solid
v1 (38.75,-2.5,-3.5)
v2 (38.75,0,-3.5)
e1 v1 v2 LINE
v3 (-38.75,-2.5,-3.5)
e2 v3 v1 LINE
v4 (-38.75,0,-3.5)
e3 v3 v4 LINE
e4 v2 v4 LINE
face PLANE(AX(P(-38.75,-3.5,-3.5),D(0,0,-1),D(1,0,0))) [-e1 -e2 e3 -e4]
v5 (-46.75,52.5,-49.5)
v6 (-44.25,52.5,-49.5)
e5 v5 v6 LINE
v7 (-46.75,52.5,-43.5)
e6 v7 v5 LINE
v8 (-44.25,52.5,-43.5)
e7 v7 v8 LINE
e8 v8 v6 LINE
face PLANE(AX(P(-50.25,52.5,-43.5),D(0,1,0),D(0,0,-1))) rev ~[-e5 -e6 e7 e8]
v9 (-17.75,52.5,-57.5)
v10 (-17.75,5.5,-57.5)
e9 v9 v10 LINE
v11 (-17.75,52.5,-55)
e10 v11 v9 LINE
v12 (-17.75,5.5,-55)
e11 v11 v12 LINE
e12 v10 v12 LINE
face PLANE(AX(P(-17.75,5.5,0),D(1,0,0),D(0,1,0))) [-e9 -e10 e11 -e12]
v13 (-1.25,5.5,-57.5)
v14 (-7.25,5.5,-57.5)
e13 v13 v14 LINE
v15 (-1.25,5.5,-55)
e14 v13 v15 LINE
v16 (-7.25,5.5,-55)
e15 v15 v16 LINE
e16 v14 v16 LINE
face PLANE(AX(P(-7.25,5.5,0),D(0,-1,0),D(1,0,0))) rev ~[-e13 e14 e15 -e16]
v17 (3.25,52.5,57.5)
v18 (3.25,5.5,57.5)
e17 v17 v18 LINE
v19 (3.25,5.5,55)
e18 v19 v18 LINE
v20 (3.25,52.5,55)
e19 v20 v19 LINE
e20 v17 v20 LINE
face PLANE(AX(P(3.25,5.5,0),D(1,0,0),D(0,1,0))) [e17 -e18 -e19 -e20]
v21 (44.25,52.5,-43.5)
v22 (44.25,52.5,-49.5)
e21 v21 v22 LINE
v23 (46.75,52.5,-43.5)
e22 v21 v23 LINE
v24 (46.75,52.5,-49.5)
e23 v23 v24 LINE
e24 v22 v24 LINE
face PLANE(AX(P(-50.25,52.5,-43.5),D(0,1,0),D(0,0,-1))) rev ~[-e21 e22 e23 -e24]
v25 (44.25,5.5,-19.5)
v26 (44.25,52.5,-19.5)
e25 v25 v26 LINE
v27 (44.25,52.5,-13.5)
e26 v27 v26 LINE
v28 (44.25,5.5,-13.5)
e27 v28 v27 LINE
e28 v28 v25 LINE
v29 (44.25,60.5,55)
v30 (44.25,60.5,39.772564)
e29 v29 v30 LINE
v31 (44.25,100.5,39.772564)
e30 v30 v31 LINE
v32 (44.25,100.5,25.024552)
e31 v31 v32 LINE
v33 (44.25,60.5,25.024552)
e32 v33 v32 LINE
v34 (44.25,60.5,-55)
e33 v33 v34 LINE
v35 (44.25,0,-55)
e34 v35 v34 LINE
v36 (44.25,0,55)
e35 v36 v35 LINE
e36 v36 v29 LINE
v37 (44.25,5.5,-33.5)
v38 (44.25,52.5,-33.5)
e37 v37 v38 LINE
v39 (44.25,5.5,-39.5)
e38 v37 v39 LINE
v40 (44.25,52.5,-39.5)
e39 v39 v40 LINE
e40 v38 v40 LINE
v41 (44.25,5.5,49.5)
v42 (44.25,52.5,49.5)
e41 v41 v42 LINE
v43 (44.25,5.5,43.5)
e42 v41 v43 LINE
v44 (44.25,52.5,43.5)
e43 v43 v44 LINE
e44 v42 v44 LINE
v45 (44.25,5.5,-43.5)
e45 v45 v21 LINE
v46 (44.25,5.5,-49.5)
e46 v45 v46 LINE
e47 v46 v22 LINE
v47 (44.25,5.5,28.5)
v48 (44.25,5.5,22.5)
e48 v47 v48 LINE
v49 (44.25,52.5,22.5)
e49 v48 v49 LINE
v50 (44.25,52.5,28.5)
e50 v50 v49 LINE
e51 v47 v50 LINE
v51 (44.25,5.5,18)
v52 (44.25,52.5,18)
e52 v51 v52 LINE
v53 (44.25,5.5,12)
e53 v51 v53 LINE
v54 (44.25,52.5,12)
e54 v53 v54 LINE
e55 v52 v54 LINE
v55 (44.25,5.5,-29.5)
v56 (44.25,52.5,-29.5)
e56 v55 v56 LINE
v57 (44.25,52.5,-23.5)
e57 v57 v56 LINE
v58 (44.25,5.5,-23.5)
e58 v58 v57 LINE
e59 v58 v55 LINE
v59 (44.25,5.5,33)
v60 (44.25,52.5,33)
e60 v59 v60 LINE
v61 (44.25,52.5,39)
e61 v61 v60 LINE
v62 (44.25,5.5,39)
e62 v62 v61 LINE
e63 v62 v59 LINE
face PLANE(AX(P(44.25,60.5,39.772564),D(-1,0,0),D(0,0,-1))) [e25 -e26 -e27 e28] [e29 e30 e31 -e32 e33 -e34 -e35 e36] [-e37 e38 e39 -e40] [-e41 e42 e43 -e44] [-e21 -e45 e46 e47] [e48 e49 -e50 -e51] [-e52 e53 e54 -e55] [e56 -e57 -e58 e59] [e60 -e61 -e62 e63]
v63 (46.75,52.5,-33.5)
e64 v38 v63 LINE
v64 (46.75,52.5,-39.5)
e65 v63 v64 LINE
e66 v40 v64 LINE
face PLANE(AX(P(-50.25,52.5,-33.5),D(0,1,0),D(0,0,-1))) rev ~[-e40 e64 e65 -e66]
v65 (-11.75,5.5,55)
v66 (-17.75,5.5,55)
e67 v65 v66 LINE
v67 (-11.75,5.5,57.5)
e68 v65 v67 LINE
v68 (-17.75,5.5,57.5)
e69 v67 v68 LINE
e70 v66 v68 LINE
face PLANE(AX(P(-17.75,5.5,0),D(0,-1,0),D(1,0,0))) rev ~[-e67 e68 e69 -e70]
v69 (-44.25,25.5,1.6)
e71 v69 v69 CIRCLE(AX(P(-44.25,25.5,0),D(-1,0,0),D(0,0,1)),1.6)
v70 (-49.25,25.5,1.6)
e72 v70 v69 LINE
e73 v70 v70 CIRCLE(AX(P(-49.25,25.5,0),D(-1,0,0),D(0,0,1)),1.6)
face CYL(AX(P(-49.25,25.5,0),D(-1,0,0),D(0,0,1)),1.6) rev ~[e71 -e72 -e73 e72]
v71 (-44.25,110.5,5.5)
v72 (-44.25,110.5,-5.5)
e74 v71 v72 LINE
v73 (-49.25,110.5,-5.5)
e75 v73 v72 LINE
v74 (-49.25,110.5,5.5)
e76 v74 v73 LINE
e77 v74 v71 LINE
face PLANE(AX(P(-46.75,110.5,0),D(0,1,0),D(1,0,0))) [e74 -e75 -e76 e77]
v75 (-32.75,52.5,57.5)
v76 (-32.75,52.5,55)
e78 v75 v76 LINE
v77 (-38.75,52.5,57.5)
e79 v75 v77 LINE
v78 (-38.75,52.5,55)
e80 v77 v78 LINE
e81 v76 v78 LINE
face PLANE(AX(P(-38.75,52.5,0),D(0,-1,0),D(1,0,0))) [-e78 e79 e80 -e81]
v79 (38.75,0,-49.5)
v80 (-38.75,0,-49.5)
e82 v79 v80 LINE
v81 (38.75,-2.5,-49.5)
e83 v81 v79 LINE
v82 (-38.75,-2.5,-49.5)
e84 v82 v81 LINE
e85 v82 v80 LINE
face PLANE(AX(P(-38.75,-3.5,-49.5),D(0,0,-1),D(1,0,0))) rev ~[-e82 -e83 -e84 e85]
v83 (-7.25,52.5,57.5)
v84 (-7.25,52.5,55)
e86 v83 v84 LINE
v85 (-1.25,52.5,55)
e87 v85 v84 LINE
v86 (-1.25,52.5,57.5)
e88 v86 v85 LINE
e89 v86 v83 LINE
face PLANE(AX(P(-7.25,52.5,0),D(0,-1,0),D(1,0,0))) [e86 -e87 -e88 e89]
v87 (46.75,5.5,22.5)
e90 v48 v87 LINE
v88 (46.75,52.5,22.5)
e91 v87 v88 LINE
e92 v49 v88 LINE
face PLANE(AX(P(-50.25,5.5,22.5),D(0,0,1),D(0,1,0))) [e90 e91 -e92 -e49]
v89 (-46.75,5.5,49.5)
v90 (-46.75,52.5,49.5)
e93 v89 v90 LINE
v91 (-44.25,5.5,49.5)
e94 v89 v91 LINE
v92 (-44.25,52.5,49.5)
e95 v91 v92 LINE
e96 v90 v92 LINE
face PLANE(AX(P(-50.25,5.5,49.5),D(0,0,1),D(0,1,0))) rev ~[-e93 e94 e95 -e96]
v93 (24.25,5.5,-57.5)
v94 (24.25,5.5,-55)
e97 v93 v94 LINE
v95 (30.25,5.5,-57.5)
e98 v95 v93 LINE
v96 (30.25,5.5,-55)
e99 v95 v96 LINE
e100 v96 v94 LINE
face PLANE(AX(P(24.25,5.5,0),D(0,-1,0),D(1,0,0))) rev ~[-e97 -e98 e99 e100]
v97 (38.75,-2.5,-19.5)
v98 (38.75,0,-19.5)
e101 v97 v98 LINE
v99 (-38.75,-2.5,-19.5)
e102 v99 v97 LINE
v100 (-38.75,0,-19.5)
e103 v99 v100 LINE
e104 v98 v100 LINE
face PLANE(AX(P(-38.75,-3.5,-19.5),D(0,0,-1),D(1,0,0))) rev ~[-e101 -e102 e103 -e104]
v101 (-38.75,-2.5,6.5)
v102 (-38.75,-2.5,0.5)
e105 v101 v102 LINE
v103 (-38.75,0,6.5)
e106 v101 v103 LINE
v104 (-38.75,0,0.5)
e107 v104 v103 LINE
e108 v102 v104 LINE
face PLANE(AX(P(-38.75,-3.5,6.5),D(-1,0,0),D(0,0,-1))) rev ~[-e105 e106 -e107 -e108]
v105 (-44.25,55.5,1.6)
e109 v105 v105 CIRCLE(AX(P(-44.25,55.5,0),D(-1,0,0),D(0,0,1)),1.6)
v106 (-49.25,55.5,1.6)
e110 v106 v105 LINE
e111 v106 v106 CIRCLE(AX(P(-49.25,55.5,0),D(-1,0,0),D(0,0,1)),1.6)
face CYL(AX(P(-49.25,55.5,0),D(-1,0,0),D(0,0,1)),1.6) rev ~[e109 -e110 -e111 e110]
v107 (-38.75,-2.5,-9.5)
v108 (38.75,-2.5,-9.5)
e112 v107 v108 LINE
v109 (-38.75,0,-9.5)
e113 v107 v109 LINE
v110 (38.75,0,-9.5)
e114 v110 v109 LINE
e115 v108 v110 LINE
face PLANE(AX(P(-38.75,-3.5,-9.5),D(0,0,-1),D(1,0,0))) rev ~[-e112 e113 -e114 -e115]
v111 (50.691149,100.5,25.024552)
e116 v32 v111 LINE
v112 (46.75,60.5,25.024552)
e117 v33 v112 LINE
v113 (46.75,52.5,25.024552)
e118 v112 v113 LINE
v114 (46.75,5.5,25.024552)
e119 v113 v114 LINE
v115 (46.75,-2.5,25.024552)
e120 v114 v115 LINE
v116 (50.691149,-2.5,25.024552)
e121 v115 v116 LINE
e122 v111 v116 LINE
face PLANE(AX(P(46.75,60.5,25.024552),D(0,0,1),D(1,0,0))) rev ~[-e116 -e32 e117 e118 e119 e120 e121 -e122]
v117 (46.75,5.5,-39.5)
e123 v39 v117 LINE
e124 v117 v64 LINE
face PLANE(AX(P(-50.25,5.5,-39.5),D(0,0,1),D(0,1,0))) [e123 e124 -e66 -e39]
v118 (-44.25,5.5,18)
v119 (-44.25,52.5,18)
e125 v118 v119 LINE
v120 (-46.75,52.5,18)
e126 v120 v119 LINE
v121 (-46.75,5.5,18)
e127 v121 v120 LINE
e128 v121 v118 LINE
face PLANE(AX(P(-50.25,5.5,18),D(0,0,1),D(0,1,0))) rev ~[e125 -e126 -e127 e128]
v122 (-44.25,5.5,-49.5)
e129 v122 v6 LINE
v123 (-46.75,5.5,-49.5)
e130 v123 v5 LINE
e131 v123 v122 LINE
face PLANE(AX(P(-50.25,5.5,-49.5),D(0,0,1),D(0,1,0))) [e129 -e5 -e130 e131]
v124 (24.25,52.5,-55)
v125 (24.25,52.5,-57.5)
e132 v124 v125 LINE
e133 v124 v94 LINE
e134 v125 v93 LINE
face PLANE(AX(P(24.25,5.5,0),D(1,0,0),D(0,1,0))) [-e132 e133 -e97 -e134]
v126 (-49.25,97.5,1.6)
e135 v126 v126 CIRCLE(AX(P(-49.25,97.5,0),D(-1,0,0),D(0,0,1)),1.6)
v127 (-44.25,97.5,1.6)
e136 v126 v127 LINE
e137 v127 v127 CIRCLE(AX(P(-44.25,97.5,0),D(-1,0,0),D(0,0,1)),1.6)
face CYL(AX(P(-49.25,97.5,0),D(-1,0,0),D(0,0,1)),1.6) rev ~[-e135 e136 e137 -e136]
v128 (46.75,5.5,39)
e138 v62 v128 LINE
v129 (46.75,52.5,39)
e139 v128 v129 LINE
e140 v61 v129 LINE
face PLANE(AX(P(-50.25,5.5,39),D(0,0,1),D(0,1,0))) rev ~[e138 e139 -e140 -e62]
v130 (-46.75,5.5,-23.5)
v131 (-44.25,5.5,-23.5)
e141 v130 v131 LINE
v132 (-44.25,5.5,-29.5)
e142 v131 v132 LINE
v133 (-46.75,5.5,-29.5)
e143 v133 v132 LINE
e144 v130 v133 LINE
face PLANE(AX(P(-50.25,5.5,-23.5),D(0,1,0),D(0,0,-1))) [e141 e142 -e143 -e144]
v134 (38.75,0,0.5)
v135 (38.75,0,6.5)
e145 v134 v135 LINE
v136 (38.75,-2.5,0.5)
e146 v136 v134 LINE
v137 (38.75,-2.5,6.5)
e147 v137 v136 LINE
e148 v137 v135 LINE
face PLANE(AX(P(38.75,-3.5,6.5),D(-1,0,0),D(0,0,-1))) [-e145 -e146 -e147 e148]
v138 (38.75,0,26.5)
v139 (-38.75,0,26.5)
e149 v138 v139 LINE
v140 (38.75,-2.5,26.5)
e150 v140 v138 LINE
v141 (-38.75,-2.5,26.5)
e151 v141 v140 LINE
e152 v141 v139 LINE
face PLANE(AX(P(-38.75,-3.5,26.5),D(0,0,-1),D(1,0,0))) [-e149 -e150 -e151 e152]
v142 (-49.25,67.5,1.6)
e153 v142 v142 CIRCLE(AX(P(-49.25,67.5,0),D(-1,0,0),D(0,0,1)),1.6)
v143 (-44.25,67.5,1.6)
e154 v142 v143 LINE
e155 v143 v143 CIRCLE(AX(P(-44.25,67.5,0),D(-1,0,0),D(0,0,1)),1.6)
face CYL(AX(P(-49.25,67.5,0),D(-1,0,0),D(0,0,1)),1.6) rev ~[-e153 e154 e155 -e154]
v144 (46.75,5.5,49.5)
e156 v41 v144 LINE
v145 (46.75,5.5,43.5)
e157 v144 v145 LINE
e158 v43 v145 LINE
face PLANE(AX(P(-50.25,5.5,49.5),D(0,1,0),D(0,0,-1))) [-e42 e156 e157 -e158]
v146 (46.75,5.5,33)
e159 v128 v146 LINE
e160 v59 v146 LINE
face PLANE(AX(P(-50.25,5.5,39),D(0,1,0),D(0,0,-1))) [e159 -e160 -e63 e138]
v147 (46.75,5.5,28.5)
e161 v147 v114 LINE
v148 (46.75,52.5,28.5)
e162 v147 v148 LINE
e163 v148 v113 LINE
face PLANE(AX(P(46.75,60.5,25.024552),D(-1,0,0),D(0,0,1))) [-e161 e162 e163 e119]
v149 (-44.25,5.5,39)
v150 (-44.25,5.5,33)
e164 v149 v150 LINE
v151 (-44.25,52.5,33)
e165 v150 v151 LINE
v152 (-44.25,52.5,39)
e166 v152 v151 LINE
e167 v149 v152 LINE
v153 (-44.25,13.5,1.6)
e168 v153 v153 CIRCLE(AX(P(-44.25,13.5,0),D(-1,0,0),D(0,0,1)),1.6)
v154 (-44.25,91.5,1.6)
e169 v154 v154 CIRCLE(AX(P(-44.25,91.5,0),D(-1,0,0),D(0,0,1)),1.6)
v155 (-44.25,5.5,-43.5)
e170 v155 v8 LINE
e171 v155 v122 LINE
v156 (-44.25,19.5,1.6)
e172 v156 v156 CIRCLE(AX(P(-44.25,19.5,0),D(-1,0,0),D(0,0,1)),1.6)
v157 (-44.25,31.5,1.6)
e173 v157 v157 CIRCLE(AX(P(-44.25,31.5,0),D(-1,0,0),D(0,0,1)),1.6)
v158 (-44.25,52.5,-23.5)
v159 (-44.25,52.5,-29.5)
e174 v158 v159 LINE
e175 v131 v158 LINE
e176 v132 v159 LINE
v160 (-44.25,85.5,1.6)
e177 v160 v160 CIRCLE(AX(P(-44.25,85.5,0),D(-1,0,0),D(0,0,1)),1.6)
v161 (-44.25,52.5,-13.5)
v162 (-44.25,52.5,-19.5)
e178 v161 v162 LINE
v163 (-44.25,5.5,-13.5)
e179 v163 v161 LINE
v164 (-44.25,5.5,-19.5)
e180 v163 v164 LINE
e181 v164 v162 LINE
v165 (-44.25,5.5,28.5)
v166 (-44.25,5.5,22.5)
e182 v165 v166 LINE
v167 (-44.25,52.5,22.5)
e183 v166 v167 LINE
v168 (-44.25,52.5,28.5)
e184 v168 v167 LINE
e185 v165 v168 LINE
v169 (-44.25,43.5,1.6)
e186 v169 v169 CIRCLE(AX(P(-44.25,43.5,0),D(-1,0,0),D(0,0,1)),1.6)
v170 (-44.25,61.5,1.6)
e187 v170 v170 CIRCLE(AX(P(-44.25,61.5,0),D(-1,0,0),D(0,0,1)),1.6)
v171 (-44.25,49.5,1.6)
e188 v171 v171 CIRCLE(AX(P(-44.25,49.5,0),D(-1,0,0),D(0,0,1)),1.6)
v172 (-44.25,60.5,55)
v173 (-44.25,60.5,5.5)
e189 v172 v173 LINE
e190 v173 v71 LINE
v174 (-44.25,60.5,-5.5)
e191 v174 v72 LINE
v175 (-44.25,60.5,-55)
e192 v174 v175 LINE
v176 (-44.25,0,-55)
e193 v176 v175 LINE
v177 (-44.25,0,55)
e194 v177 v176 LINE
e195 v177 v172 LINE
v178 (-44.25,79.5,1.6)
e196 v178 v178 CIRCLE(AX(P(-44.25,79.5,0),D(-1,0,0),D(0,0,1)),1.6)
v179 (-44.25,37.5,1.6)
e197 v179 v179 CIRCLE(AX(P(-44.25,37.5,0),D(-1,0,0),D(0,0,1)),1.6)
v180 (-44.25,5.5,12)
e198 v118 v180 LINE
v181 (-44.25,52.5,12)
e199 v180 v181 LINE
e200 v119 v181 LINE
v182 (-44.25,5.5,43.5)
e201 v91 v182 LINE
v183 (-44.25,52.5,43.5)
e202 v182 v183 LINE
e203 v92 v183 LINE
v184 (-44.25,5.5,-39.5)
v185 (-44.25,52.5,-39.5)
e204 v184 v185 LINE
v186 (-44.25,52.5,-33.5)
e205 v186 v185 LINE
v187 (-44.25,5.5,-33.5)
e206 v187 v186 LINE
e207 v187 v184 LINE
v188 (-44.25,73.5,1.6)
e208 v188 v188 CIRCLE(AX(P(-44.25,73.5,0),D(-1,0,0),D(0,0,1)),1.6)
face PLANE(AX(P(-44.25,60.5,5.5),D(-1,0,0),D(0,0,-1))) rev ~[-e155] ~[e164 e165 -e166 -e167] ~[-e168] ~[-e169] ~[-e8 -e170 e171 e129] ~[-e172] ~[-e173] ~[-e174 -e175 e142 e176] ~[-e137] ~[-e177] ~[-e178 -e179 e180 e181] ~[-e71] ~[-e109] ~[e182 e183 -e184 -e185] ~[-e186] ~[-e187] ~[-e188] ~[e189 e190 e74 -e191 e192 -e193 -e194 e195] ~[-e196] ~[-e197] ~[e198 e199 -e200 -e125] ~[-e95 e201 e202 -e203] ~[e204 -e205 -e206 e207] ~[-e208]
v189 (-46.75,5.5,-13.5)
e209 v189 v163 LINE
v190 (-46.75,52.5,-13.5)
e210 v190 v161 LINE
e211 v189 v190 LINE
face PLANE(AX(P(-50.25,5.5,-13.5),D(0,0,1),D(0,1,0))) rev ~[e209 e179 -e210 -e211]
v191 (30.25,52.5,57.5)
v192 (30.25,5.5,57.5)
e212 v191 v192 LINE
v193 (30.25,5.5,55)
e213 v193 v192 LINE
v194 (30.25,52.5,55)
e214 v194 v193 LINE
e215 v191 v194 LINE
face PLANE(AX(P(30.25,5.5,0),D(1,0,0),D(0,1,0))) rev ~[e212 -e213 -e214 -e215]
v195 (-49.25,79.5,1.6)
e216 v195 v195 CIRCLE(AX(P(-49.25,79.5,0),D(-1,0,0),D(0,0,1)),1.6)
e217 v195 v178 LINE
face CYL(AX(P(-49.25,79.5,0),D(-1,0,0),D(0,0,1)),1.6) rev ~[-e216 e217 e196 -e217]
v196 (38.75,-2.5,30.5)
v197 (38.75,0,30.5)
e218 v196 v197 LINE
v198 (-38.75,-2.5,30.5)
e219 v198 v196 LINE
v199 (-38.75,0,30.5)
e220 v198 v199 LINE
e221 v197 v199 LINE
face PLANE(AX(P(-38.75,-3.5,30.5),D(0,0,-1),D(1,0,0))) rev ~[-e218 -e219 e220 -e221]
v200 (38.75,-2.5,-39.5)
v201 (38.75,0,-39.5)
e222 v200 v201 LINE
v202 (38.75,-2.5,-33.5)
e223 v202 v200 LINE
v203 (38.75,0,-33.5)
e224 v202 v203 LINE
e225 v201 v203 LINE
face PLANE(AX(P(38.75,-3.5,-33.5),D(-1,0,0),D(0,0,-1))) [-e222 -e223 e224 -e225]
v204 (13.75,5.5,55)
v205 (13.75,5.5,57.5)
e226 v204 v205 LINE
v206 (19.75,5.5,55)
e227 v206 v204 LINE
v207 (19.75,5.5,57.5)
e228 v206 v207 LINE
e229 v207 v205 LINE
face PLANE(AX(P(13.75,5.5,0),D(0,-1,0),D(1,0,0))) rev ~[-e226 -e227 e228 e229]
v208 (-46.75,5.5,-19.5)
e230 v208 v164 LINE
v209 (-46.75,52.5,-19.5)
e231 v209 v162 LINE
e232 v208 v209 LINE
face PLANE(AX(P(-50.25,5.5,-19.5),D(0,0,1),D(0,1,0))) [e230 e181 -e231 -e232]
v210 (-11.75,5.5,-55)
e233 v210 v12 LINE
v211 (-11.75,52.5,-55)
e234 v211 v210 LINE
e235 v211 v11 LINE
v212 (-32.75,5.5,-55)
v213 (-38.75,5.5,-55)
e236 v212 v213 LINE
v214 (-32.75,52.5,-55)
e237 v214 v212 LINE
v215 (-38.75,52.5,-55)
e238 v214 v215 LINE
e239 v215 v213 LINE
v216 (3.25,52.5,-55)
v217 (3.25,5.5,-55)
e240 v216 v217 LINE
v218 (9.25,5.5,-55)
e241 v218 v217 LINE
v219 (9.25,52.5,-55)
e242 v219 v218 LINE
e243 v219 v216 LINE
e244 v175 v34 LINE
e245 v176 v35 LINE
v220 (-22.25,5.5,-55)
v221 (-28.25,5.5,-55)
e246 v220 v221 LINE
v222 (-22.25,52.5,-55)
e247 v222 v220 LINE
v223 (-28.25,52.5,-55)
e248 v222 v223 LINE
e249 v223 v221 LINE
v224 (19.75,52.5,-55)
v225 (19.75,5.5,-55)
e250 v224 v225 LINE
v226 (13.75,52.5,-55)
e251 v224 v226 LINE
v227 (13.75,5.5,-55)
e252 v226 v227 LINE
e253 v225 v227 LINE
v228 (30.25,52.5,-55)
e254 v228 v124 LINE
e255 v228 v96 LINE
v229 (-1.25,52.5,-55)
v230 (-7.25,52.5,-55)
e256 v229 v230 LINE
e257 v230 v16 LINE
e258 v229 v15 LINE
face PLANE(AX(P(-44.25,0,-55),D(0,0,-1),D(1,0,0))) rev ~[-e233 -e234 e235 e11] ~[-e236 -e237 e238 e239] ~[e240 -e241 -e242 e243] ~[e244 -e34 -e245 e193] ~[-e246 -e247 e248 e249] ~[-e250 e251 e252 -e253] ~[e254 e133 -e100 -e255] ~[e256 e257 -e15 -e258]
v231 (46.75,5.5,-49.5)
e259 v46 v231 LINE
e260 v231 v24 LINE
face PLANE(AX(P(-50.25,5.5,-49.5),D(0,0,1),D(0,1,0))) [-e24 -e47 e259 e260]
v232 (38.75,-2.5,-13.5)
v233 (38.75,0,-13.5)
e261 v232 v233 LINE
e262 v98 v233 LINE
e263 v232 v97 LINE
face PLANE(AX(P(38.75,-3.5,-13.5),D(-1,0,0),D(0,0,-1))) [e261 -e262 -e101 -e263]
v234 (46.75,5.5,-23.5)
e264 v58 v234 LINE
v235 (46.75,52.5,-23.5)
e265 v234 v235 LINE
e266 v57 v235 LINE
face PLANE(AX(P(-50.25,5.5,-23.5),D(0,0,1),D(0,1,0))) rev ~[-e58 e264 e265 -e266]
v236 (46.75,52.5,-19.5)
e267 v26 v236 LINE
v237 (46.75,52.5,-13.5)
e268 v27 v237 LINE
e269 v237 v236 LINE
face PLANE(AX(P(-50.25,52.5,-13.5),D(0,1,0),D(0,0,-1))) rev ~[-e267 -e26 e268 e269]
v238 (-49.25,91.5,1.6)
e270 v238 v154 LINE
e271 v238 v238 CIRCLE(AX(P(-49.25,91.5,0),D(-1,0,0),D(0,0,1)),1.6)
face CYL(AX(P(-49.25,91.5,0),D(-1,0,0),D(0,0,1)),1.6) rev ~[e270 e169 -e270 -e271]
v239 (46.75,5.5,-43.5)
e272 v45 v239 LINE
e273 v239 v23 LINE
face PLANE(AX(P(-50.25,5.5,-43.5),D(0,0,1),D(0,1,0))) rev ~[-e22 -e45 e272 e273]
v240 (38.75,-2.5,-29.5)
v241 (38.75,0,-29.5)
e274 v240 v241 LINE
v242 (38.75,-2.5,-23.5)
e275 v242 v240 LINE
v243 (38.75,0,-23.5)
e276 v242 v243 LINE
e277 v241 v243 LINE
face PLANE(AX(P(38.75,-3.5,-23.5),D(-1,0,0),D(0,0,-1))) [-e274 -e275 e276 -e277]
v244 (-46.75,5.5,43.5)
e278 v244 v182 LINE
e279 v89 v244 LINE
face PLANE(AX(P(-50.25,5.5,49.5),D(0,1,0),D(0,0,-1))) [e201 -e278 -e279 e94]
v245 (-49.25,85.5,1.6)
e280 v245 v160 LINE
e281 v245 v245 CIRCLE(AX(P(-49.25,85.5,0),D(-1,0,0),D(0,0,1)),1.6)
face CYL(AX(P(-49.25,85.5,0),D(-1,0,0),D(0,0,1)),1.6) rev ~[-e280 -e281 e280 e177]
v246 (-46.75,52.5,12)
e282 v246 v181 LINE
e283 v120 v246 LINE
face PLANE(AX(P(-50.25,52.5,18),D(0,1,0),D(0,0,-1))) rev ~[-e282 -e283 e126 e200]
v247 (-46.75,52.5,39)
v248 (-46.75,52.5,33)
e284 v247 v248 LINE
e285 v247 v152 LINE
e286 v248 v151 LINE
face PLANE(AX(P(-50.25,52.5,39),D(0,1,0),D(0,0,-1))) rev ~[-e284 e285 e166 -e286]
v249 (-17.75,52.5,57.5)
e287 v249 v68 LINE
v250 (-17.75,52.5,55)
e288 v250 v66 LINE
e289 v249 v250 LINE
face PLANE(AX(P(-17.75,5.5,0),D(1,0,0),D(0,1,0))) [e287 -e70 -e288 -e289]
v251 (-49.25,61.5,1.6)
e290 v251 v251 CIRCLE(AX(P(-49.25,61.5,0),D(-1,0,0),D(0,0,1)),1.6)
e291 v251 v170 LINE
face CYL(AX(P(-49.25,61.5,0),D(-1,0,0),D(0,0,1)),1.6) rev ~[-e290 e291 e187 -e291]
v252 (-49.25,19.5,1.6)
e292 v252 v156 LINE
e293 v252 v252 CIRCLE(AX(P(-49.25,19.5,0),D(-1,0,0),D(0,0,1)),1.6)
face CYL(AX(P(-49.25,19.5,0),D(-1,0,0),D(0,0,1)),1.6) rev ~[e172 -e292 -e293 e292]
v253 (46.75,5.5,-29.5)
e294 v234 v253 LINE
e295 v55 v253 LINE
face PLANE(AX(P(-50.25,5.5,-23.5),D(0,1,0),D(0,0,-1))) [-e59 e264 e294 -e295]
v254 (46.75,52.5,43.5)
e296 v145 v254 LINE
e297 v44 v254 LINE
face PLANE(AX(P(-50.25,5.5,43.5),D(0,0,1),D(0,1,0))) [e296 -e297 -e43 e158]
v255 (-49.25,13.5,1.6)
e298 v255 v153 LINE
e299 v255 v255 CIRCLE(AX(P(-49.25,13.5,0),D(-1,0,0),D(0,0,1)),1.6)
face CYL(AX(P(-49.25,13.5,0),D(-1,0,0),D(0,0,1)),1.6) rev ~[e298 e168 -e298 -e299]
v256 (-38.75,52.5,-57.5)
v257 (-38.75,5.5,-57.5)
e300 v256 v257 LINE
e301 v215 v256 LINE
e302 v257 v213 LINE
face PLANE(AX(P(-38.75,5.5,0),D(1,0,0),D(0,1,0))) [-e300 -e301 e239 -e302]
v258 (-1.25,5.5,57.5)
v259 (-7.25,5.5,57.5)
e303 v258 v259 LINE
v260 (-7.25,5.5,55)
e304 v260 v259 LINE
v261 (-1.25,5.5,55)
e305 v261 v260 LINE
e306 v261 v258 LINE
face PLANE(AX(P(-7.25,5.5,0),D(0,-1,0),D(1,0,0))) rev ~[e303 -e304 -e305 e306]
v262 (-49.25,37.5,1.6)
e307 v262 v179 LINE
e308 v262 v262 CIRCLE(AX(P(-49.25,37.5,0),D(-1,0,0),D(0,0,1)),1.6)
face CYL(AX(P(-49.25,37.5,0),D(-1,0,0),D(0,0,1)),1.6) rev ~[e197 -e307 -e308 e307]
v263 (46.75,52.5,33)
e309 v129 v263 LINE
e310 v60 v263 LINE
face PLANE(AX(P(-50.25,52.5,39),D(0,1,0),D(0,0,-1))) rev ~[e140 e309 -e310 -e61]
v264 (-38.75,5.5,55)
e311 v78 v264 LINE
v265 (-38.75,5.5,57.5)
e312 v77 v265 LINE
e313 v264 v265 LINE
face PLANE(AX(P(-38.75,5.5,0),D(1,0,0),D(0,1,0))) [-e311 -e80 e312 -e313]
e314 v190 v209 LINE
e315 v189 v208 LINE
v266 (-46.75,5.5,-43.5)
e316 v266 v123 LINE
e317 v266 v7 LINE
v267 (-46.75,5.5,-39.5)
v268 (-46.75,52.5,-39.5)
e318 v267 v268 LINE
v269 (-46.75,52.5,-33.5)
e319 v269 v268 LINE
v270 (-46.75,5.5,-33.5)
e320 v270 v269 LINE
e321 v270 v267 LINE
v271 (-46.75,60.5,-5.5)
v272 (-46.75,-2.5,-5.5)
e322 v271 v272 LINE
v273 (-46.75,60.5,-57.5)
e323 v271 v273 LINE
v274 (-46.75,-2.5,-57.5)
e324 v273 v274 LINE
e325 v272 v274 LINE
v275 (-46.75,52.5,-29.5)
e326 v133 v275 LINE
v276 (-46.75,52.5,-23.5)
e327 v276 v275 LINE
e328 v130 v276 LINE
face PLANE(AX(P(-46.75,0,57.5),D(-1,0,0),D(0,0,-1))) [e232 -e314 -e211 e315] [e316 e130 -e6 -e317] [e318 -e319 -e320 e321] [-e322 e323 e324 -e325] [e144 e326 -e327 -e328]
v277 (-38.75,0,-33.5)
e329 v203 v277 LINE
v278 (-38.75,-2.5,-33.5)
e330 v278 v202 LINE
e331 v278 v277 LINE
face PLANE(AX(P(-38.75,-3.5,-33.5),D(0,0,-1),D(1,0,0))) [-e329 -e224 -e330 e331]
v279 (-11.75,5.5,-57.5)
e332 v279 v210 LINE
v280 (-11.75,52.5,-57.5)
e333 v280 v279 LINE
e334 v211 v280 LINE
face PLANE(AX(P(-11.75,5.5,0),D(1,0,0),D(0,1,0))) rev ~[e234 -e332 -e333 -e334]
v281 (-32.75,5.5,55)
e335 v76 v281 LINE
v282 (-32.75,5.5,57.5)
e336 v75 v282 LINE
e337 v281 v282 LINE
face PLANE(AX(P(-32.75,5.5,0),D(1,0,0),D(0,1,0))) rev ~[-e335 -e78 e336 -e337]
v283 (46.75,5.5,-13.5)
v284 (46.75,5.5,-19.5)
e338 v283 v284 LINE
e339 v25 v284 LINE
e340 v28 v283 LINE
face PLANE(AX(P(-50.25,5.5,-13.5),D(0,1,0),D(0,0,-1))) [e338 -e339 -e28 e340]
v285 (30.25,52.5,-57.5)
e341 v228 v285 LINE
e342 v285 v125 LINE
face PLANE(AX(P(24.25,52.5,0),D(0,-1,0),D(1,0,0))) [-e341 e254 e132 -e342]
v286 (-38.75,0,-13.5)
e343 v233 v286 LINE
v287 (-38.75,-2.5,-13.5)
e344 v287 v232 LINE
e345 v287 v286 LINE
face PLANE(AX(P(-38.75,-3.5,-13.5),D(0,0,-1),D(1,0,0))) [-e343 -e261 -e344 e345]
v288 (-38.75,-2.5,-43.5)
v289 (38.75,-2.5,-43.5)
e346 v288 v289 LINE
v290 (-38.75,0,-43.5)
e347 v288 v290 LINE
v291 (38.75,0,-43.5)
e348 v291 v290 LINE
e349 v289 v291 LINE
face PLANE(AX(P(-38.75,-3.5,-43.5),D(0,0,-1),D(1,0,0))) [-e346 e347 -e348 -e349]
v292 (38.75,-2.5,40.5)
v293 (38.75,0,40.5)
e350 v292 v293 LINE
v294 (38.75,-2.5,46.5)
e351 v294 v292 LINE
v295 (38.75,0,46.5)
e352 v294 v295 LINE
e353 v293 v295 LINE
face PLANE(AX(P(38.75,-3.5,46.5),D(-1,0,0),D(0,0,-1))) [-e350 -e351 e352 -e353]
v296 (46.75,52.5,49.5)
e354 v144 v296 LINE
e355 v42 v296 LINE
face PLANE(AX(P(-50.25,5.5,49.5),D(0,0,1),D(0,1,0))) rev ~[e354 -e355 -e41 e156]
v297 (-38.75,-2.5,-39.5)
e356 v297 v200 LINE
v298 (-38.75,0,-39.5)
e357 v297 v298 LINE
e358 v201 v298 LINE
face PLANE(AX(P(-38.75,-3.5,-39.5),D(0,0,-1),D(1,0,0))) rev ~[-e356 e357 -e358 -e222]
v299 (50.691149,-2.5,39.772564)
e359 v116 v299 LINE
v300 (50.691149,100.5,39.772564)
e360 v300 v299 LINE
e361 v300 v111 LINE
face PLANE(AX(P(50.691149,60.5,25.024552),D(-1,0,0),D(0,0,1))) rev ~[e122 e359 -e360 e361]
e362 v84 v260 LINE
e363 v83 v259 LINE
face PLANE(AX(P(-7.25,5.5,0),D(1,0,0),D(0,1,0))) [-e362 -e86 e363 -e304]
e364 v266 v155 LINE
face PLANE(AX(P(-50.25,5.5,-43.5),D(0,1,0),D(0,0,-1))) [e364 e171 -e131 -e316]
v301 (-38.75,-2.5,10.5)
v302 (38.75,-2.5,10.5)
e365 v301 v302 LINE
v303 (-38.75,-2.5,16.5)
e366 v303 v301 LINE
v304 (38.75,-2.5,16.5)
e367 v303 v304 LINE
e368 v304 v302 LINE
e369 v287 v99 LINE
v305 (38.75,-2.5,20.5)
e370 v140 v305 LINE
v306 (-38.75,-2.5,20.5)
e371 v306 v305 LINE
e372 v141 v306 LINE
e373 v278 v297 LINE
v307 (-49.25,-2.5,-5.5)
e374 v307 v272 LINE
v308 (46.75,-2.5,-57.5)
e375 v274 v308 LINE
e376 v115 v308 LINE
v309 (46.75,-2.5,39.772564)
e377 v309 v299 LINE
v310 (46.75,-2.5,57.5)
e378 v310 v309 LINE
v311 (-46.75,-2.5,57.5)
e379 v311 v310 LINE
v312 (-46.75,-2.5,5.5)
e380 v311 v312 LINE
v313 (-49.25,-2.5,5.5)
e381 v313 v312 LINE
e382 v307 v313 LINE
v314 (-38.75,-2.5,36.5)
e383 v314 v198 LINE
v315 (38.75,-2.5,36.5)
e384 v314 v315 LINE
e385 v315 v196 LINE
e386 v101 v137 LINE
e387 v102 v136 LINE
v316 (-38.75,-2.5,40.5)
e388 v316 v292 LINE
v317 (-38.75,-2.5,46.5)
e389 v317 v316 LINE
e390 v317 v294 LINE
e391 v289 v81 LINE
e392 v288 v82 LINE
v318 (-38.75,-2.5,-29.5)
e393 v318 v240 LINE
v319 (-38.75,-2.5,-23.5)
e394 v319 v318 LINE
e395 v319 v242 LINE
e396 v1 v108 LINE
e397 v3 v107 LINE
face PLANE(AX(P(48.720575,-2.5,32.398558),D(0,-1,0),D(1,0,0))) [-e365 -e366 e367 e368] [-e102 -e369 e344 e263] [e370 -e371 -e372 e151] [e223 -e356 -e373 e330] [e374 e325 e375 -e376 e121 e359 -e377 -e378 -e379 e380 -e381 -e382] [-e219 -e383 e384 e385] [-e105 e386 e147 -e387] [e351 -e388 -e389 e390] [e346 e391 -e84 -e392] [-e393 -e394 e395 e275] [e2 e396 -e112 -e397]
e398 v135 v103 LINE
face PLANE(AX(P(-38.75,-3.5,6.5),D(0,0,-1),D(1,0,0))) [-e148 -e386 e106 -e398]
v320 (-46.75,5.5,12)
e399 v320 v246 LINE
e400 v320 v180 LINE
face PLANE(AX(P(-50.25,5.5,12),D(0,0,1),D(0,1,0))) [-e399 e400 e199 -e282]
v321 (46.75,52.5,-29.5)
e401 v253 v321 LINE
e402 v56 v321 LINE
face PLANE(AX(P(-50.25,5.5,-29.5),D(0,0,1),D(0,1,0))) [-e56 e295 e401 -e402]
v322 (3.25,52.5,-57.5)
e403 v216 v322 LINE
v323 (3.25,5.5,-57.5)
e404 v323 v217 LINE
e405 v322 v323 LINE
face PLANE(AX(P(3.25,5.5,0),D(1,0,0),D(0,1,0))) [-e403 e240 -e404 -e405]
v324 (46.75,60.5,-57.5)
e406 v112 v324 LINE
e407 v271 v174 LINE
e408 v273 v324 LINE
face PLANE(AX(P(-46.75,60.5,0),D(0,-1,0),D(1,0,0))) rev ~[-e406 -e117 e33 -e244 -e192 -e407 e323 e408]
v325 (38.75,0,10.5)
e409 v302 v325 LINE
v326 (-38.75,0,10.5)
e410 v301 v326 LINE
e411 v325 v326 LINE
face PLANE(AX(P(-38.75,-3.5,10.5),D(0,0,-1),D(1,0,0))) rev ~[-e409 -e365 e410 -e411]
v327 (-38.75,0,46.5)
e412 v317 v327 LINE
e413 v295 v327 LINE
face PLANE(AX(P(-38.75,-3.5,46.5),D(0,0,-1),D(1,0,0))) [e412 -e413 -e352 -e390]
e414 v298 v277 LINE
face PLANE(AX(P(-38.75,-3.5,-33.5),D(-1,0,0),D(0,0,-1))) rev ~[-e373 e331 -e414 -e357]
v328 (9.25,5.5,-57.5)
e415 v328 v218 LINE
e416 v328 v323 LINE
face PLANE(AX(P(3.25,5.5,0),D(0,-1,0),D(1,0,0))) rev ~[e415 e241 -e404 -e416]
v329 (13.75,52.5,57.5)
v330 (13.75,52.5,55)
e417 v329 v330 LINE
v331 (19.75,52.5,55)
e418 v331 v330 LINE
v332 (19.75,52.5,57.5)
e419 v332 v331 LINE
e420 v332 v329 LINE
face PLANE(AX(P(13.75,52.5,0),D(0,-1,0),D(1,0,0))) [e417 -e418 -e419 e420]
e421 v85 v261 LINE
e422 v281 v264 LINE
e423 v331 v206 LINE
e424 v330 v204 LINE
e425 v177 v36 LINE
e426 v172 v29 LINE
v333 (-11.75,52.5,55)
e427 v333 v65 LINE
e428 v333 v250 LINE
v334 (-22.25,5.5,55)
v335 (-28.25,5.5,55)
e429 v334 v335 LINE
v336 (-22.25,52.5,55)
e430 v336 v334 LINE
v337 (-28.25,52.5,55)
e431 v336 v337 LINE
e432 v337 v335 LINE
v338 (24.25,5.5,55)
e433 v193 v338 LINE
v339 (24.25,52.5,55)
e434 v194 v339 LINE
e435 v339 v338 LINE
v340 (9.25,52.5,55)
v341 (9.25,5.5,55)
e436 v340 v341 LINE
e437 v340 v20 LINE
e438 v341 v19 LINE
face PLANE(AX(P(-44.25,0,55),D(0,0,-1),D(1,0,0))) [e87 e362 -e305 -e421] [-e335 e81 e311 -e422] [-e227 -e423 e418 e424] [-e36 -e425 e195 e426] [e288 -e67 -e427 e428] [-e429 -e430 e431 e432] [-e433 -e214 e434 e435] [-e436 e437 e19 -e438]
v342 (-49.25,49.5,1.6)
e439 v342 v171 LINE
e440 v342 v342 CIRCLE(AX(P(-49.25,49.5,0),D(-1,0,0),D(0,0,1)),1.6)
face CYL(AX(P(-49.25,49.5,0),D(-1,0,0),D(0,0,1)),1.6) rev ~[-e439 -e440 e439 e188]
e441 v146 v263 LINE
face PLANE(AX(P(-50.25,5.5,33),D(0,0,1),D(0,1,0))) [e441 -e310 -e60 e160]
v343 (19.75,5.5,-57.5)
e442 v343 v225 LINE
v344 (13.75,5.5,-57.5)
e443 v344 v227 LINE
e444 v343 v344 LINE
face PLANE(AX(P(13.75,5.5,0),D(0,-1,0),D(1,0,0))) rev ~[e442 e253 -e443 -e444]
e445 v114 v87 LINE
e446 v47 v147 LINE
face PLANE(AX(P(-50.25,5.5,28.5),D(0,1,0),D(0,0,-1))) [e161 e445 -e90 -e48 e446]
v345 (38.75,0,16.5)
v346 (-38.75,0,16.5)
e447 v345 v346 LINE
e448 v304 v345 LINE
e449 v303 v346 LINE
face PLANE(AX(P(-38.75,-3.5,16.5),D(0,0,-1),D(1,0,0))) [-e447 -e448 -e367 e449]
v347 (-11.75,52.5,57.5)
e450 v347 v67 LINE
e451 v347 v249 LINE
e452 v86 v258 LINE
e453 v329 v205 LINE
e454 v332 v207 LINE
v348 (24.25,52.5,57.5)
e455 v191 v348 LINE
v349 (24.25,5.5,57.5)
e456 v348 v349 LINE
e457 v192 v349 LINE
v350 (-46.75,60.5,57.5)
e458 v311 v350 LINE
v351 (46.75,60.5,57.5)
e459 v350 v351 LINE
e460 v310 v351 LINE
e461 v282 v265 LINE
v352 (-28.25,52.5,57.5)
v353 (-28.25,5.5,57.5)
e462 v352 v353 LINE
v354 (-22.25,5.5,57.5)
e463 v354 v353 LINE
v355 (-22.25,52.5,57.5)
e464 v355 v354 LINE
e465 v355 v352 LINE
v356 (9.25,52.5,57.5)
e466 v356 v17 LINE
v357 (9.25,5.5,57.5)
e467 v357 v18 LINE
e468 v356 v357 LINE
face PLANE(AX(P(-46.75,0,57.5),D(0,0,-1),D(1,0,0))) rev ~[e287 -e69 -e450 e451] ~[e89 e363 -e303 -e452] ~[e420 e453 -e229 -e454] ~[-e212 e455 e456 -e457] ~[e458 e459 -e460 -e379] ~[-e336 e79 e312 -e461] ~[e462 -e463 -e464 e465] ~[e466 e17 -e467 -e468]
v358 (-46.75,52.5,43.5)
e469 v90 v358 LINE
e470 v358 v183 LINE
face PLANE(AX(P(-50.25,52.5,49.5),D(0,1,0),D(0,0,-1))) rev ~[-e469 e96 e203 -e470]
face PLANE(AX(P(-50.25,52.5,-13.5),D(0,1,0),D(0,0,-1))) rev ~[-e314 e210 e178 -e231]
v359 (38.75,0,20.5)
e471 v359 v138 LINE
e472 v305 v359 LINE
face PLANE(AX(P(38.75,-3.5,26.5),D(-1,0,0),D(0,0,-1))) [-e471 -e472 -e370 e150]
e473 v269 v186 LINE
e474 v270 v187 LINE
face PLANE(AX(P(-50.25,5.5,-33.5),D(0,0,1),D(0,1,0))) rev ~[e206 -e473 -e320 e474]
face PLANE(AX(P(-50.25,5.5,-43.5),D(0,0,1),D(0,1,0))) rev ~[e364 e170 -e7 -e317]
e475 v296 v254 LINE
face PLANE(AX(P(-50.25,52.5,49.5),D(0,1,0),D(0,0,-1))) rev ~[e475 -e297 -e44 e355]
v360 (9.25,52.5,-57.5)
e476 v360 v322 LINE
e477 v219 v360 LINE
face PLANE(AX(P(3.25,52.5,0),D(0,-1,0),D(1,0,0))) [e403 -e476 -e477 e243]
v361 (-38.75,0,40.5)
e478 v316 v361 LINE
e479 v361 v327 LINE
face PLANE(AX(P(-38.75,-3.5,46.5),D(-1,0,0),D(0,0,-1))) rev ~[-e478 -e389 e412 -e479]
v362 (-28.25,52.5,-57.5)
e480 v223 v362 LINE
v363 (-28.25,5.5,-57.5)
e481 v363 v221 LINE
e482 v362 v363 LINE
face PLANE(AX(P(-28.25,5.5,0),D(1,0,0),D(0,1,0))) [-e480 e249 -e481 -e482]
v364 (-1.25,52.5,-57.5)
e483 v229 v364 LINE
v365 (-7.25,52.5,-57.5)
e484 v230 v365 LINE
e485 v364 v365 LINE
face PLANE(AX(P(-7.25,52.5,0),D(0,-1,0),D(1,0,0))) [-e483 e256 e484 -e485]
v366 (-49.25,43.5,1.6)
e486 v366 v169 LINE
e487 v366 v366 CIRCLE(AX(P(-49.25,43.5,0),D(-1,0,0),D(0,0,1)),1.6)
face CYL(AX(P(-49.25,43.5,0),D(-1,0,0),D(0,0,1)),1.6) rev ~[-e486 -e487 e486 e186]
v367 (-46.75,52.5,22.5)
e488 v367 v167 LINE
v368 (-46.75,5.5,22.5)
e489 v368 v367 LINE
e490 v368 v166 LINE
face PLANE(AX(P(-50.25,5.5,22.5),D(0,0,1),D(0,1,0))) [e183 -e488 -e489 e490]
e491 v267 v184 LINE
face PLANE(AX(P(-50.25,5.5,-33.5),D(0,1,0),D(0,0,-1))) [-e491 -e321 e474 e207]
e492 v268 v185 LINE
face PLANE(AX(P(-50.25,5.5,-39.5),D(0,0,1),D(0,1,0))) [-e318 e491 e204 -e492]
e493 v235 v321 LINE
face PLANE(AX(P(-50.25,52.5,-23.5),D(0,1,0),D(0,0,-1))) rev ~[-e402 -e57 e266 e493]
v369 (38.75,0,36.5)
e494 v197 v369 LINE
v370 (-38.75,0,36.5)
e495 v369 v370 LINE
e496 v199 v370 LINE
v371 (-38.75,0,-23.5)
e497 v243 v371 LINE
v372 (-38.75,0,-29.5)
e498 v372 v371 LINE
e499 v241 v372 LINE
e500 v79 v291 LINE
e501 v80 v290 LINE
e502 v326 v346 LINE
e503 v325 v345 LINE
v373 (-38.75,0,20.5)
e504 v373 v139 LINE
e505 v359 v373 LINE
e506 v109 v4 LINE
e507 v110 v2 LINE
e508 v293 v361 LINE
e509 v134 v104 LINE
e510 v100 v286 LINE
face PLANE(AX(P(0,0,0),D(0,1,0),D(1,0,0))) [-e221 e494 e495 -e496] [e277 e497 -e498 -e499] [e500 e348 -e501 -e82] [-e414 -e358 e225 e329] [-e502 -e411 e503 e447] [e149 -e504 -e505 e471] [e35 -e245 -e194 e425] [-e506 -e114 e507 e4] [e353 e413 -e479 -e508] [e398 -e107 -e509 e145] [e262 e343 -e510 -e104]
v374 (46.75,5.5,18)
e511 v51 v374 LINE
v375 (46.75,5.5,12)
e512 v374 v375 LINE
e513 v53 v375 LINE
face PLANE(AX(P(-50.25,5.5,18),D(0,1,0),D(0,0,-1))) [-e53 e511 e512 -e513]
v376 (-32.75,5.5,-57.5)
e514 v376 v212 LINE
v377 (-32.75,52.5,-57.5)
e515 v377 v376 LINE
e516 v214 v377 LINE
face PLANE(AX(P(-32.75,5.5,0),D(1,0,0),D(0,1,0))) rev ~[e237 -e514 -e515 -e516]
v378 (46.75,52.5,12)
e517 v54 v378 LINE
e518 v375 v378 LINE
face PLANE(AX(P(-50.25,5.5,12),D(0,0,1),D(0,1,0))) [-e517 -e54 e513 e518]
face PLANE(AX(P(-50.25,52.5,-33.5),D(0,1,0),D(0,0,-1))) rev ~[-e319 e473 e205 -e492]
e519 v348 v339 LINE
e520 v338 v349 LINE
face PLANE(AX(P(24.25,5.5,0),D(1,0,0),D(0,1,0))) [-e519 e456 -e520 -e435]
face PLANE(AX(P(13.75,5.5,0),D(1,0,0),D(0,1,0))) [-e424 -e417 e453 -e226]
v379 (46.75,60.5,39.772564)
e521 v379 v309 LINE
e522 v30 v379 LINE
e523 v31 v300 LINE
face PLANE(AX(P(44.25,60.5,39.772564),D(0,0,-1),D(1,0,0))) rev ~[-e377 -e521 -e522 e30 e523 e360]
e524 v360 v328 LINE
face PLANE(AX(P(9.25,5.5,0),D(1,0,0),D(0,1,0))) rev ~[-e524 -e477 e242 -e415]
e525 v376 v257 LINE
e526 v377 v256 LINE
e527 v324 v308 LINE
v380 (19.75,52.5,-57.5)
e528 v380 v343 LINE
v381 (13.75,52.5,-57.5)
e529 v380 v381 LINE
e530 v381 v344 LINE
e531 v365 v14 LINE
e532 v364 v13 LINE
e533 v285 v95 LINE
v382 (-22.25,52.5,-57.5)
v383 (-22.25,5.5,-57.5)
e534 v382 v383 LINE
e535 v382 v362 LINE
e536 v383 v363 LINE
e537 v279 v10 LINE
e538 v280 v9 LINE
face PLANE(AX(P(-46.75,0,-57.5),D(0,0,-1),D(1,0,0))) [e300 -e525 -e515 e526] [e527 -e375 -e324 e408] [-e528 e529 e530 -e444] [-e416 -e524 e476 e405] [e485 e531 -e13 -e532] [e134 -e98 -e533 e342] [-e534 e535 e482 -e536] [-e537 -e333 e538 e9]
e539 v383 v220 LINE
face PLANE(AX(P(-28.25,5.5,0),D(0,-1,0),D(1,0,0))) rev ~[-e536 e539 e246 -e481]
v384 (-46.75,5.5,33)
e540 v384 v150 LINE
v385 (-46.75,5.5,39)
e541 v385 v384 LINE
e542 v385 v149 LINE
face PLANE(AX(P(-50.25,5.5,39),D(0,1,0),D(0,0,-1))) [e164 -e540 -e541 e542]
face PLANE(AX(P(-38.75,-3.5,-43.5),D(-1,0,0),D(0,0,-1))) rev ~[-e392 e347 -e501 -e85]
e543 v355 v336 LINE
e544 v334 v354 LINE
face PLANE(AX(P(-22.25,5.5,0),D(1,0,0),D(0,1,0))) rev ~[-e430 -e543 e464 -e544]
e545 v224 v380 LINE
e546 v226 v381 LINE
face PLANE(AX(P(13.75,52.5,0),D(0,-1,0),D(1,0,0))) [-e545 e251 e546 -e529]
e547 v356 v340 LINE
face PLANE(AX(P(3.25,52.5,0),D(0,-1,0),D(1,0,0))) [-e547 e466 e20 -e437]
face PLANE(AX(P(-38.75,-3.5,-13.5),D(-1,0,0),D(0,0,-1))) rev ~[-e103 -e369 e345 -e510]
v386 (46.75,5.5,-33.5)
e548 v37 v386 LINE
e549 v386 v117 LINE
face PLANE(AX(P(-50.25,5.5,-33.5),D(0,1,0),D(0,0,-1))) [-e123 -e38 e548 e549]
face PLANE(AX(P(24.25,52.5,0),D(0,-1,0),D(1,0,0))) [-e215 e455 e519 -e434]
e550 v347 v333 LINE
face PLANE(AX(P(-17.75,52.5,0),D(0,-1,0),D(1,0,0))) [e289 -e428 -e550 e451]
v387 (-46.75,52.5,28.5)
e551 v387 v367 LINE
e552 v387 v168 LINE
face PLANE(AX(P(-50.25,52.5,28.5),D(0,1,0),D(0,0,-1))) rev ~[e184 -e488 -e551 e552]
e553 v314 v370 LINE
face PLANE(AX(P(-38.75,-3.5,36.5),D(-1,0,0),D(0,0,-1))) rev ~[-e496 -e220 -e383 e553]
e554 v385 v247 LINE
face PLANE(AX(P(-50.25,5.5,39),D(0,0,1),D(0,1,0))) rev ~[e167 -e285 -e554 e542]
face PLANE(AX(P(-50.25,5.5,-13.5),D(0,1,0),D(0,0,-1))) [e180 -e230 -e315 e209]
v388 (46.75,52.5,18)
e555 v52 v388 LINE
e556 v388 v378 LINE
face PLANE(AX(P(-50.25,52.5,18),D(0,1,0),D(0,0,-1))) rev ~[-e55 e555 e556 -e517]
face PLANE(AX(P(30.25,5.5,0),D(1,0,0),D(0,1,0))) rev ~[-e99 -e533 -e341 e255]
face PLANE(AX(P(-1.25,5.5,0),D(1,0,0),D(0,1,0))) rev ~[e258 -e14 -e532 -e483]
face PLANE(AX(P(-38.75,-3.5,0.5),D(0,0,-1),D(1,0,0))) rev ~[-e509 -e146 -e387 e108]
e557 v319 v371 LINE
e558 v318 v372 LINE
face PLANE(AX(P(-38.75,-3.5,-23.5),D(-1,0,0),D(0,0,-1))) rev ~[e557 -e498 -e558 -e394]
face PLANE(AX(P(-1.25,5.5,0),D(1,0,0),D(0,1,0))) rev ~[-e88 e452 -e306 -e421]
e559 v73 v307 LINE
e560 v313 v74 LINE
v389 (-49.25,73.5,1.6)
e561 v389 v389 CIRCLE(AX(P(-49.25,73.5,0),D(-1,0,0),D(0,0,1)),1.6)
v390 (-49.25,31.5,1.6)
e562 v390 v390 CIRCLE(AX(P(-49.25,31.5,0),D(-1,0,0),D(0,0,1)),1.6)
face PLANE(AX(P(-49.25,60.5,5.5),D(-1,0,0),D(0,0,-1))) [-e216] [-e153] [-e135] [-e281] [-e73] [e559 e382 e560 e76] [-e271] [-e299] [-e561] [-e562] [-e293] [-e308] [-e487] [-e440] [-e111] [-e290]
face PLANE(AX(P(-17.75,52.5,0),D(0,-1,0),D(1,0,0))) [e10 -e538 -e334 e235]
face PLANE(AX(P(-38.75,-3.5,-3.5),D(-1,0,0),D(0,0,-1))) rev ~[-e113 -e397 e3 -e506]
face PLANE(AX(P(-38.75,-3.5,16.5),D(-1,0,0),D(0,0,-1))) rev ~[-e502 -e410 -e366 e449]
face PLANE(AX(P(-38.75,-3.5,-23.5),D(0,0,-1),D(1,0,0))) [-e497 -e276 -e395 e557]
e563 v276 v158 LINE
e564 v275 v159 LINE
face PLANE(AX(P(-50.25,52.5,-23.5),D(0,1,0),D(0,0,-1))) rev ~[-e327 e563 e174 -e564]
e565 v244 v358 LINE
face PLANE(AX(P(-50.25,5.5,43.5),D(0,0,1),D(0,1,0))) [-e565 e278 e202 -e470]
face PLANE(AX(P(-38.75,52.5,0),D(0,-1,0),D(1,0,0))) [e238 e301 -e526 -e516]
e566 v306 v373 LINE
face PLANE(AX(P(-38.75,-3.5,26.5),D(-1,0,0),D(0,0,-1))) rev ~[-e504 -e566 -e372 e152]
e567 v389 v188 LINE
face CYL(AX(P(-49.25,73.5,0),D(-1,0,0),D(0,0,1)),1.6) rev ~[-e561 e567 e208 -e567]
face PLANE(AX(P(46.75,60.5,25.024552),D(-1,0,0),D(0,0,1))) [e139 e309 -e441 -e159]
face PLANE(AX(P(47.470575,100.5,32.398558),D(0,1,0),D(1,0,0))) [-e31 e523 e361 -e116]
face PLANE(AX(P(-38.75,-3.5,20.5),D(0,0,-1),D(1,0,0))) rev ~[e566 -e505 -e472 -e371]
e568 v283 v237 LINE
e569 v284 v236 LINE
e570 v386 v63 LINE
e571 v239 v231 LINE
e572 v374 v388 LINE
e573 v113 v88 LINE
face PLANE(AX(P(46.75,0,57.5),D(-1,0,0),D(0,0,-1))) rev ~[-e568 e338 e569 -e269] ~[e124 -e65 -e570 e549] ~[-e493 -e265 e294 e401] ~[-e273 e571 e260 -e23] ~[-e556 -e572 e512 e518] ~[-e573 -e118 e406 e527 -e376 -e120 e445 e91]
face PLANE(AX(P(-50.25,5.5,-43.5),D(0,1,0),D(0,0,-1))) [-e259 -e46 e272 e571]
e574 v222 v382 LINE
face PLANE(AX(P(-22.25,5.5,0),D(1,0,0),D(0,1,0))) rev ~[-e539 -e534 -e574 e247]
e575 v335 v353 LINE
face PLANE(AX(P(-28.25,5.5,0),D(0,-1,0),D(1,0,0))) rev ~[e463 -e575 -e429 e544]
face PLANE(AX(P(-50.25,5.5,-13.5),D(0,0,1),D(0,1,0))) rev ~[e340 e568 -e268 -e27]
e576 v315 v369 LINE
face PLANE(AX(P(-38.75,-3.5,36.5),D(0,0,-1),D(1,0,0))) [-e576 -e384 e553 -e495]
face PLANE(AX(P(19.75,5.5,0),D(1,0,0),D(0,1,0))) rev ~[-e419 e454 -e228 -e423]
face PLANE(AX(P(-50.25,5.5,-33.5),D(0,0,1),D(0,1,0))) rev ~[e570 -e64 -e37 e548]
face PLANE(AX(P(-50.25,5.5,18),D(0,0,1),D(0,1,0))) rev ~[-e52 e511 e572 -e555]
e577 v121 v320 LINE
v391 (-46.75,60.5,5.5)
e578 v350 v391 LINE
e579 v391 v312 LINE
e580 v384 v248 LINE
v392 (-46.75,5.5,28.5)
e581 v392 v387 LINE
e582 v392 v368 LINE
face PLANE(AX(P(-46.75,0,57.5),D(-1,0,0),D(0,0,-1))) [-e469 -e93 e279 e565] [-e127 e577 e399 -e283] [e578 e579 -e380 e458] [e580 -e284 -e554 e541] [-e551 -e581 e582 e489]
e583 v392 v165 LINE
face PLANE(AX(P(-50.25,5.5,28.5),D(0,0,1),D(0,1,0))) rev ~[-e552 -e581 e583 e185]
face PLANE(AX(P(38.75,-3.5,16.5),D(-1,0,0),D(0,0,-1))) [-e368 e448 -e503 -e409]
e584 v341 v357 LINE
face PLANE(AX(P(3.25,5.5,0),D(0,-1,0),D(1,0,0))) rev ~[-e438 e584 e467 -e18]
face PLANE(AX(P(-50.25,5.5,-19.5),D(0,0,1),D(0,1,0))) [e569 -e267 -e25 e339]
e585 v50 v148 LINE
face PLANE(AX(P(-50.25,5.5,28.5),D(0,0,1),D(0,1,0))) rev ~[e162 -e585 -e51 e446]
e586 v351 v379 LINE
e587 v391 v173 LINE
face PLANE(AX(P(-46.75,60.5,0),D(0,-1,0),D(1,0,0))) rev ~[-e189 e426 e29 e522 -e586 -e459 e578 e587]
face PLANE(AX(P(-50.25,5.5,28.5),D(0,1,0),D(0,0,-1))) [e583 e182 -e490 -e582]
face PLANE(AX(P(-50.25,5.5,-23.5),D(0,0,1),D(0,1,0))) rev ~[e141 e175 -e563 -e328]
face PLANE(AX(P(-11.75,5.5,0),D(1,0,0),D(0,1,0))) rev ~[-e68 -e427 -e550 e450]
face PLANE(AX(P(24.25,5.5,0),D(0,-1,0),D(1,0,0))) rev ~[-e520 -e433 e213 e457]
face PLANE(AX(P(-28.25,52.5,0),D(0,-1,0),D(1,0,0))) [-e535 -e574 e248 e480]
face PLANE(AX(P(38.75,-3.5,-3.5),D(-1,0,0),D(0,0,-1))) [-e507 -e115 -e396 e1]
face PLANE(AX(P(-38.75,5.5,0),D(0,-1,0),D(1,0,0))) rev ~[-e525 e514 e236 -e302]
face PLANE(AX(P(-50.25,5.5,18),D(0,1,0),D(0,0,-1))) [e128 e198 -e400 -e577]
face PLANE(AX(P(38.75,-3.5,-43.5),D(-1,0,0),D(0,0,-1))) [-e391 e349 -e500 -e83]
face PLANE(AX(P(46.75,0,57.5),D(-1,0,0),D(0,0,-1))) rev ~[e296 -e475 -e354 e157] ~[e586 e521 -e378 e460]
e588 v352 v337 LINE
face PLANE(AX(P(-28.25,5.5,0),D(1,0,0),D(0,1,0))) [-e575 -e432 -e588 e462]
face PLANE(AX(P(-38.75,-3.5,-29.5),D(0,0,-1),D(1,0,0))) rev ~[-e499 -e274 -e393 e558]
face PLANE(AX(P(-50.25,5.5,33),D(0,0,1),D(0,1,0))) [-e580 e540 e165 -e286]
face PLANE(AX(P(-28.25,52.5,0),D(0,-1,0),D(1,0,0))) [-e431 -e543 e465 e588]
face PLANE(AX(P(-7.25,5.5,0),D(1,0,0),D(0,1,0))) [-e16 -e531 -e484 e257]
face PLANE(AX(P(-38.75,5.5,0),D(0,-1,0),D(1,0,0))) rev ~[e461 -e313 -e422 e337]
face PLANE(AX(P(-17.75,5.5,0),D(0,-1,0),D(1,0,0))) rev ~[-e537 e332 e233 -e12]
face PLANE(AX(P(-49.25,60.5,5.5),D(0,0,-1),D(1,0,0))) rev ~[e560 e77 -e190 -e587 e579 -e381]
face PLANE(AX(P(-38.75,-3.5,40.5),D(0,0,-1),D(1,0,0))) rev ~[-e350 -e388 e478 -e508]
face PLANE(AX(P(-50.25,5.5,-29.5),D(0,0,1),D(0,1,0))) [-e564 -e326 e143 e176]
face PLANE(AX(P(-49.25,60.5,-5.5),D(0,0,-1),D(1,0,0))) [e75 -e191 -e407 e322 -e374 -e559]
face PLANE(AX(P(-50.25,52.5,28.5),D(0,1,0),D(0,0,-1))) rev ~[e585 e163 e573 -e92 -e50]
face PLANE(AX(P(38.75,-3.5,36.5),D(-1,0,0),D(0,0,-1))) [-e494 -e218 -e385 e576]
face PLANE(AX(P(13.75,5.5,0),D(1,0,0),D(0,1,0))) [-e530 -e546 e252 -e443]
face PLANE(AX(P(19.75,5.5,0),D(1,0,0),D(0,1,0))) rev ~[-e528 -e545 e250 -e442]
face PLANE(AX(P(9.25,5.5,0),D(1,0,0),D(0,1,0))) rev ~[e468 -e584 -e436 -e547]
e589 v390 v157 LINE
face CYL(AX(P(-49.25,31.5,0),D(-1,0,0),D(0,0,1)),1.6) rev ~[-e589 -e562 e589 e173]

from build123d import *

# Parameters (mm, degrees)
SKETCH1_W           = 93.5
SKETCH1_H           = 115
BOSS_EXTRUDE1_DEPTH = 2.5
SKETCH2_W           = 93.5
SKETCH2_H           = 115
SKETCH2_W_2         = 88.5
SKETCH2_H_2         = 110
BOSS_EXTRUDE2_DEPTH = 60.5
SKETCH3_W           = 5
SKETCH3_H           = 11
BOSS_EXTRUDE3_DEPTH = 63
SKETCH4_W           = 5
SKETCH4_H           = 11
BOSS_EXTRUDE4_DEPTH = 50
SKETCH5_R           = 1.6
CUT_EXTRUDE1_DEPTH  = 5
LPATTERN1_COUNT     = 15
LPATTERN1_PITCH     = 6
SKETCH6_W           = 6
SKETCH6_H           = 47
CUT_EXTRUDE2_DEPTH  = 58.5
LPATTERN2_COUNT     = 7
LPATTERN2_PITCH     = 10.5
CUT_EXTRUDE3_START  = -50.25
SKETCH7_W           = 6
SKETCH7_H           = 47
CUT_EXTRUDE3_DEPTH  = 98
LPATTERN3_COUNT     = 4
LPATTERN3_PITCH     = 10.5
CUT_EXTRUDE4_START  = -50.25
SKETCH8_W           = 6
SKETCH8_H           = 47
CUT_EXTRUDE4_DEPTH  = 98
LPATTERN4_COUNT     = 4
LPATTERN4_PITCH     = 10
CUT_EXTRUDE5_START  = -3.5
SKETCH9_W           = 77.5
SKETCH9_H           = 6
CUT_EXTRUDE5_DEPTH  = 115
LPATTERN5_COUNT     = 10
LPATTERN5_PITCH     = 10
SKETCH11_W          = 6.441149118
SKETCH11_H          = 14.748011809
BOSS_EXTRUDE5_DEPTH = 40
SKETCH12_W          = 3.941149118
SKETCH12_H          = 14.748011809
BOSS_EXTRUDE6_DEPTH = 63


with BuildPart() as part:
    # Sketch1 → Boss-Extrude1 (new body)
    with BuildSketch(Plane(origin=(0, 0, 0), x_dir=(1, 0, 0), z_dir=(0, 1, 0))):
        Rectangle(SKETCH1_W, SKETCH1_H)
    extrude(amount=-BOSS_EXTRUDE1_DEPTH)

    # Sketch2 → Boss-Extrude2 (add)
    with BuildSketch(Plane(origin=(0, 0, 0), x_dir=(1, 0, 0), z_dir=(0, 1, 0))):
        Rectangle(SKETCH2_W, SKETCH2_H)
        Rectangle(SKETCH2_W_2, SKETCH2_H_2, mode=Mode.SUBTRACT)
    extrude(amount=BOSS_EXTRUDE2_DEPTH)

    # Sketch3 → Boss-Extrude3 (add, through all)
    with BuildSketch(Plane.XZ.offset(2.5)):
        with Locations((-46.75, 0)):
            Rectangle(SKETCH3_W, SKETCH3_H)
    extrude(amount=-BOSS_EXTRUDE3_DEPTH)

    # Sketch4 → Boss-Extrude4 (add)
    with BuildSketch(Plane(origin=(0, 60.5, 0), x_dir=(1, 0, 0), z_dir=(0, 1, 0))):
        with Locations((-46.75, 0)):
            Rectangle(SKETCH4_W, SKETCH4_H)
    extrude(amount=BOSS_EXTRUDE4_DEPTH)

    # Sketch5 → Cut-Extrude1 (cut)
    with BuildSketch(Plane.ZY.offset(49.25)):
        with Locations((0, 97.5)):
            Circle(SKETCH5_R)
    cut_extrude1 = extrude(amount=-CUT_EXTRUDE1_DEPTH, mode=Mode.SUBTRACT)

    # LPattern1: Cut-Extrude1 ×15
    with Locations(*[(0, -i * LPATTERN1_PITCH, 0) for i in range(1, LPATTERN1_COUNT)]):
        add(cut_extrude1, mode=Mode.SUBTRACT)

    # Sketch6 → Cut-Extrude2 (cut, symmetric)
    with BuildSketch(Plane.XY):
        with Locations((-35.75, 29)):
            Rectangle(SKETCH6_W, SKETCH6_H)
    cut_extrude2 = extrude(amount=CUT_EXTRUDE2_DEPTH, both=True, mode=Mode.SUBTRACT)

    # LPattern2: Cut-Extrude2 ×7
    with Locations(*[(i * LPATTERN2_PITCH, 0, 0) for i in range(1, LPATTERN2_COUNT)]):
        add(cut_extrude2, mode=Mode.SUBTRACT)

    # Sketch7 → Cut-Extrude3 (cut)
    with BuildSketch(Plane(origin=(0, 0, 0), x_dir=(0, 0, -1), z_dir=(1, 0, 0)).offset(CUT_EXTRUDE3_START)):
        with Locations((-46.5, 29)):
            Rectangle(SKETCH7_W, SKETCH7_H)
    cut_extrude3 = extrude(amount=CUT_EXTRUDE3_DEPTH, mode=Mode.SUBTRACT)

    # LPattern3: Cut-Extrude3 ×4
    with Locations(*[(0, 0, -i * LPATTERN3_PITCH) for i in range(1, LPATTERN3_COUNT)]):
        add(cut_extrude3, mode=Mode.SUBTRACT)

    # Sketch8 → Cut-Extrude4 (cut)
    with BuildSketch(Plane(origin=(0, 0, 0), x_dir=(0, 0, -1), z_dir=(1, 0, 0)).offset(CUT_EXTRUDE4_START)):
        with Locations((46.5, 29)):
            Rectangle(SKETCH8_W, SKETCH8_H)
    cut_extrude4 = extrude(amount=CUT_EXTRUDE4_DEPTH, mode=Mode.SUBTRACT)

    # LPattern4: Cut-Extrude4 ×4
    with Locations(*[(0, 0, i * LPATTERN4_PITCH) for i in range(1, LPATTERN4_COUNT)]):
        add(cut_extrude4, mode=Mode.SUBTRACT)

    # Sketch9 → Cut-Extrude5 (cut)
    with BuildSketch(Plane(origin=(0, 0, 0), x_dir=(1, 0, 0), z_dir=(0, 1, 0)).offset(CUT_EXTRUDE5_START)):
        with Locations((0, 46.5)):
            Rectangle(SKETCH9_W, SKETCH9_H)
    cut_extrude5 = extrude(amount=CUT_EXTRUDE5_DEPTH, mode=Mode.SUBTRACT)

    # LPattern5: Cut-Extrude5 ×10
    with Locations(*[(0, 0, i * LPATTERN5_PITCH) for i in range(1, LPATTERN5_COUNT)]):
        add(cut_extrude5, mode=Mode.SUBTRACT)

    # Sketch11 → Boss-Extrude5 (add)
    with BuildSketch(Plane(origin=(0, 60.5, 0), x_dir=(1, 0, 0), z_dir=(0, 1, 0))):
        with Locations((47.470574559, -32.398557857)):
            Rectangle(SKETCH11_W, SKETCH11_H)
    extrude(amount=BOSS_EXTRUDE5_DEPTH)

    # Sketch12 → Boss-Extrude6 (add, through all)
    with BuildSketch(Plane.XZ.offset(-60.5)):
        with Locations((48.720574559, 32.398557857)):
            Rectangle(SKETCH12_W, SKETCH12_H)
    extrude(amount=BOSS_EXTRUDE6_DEPTH)


solid = part.part
